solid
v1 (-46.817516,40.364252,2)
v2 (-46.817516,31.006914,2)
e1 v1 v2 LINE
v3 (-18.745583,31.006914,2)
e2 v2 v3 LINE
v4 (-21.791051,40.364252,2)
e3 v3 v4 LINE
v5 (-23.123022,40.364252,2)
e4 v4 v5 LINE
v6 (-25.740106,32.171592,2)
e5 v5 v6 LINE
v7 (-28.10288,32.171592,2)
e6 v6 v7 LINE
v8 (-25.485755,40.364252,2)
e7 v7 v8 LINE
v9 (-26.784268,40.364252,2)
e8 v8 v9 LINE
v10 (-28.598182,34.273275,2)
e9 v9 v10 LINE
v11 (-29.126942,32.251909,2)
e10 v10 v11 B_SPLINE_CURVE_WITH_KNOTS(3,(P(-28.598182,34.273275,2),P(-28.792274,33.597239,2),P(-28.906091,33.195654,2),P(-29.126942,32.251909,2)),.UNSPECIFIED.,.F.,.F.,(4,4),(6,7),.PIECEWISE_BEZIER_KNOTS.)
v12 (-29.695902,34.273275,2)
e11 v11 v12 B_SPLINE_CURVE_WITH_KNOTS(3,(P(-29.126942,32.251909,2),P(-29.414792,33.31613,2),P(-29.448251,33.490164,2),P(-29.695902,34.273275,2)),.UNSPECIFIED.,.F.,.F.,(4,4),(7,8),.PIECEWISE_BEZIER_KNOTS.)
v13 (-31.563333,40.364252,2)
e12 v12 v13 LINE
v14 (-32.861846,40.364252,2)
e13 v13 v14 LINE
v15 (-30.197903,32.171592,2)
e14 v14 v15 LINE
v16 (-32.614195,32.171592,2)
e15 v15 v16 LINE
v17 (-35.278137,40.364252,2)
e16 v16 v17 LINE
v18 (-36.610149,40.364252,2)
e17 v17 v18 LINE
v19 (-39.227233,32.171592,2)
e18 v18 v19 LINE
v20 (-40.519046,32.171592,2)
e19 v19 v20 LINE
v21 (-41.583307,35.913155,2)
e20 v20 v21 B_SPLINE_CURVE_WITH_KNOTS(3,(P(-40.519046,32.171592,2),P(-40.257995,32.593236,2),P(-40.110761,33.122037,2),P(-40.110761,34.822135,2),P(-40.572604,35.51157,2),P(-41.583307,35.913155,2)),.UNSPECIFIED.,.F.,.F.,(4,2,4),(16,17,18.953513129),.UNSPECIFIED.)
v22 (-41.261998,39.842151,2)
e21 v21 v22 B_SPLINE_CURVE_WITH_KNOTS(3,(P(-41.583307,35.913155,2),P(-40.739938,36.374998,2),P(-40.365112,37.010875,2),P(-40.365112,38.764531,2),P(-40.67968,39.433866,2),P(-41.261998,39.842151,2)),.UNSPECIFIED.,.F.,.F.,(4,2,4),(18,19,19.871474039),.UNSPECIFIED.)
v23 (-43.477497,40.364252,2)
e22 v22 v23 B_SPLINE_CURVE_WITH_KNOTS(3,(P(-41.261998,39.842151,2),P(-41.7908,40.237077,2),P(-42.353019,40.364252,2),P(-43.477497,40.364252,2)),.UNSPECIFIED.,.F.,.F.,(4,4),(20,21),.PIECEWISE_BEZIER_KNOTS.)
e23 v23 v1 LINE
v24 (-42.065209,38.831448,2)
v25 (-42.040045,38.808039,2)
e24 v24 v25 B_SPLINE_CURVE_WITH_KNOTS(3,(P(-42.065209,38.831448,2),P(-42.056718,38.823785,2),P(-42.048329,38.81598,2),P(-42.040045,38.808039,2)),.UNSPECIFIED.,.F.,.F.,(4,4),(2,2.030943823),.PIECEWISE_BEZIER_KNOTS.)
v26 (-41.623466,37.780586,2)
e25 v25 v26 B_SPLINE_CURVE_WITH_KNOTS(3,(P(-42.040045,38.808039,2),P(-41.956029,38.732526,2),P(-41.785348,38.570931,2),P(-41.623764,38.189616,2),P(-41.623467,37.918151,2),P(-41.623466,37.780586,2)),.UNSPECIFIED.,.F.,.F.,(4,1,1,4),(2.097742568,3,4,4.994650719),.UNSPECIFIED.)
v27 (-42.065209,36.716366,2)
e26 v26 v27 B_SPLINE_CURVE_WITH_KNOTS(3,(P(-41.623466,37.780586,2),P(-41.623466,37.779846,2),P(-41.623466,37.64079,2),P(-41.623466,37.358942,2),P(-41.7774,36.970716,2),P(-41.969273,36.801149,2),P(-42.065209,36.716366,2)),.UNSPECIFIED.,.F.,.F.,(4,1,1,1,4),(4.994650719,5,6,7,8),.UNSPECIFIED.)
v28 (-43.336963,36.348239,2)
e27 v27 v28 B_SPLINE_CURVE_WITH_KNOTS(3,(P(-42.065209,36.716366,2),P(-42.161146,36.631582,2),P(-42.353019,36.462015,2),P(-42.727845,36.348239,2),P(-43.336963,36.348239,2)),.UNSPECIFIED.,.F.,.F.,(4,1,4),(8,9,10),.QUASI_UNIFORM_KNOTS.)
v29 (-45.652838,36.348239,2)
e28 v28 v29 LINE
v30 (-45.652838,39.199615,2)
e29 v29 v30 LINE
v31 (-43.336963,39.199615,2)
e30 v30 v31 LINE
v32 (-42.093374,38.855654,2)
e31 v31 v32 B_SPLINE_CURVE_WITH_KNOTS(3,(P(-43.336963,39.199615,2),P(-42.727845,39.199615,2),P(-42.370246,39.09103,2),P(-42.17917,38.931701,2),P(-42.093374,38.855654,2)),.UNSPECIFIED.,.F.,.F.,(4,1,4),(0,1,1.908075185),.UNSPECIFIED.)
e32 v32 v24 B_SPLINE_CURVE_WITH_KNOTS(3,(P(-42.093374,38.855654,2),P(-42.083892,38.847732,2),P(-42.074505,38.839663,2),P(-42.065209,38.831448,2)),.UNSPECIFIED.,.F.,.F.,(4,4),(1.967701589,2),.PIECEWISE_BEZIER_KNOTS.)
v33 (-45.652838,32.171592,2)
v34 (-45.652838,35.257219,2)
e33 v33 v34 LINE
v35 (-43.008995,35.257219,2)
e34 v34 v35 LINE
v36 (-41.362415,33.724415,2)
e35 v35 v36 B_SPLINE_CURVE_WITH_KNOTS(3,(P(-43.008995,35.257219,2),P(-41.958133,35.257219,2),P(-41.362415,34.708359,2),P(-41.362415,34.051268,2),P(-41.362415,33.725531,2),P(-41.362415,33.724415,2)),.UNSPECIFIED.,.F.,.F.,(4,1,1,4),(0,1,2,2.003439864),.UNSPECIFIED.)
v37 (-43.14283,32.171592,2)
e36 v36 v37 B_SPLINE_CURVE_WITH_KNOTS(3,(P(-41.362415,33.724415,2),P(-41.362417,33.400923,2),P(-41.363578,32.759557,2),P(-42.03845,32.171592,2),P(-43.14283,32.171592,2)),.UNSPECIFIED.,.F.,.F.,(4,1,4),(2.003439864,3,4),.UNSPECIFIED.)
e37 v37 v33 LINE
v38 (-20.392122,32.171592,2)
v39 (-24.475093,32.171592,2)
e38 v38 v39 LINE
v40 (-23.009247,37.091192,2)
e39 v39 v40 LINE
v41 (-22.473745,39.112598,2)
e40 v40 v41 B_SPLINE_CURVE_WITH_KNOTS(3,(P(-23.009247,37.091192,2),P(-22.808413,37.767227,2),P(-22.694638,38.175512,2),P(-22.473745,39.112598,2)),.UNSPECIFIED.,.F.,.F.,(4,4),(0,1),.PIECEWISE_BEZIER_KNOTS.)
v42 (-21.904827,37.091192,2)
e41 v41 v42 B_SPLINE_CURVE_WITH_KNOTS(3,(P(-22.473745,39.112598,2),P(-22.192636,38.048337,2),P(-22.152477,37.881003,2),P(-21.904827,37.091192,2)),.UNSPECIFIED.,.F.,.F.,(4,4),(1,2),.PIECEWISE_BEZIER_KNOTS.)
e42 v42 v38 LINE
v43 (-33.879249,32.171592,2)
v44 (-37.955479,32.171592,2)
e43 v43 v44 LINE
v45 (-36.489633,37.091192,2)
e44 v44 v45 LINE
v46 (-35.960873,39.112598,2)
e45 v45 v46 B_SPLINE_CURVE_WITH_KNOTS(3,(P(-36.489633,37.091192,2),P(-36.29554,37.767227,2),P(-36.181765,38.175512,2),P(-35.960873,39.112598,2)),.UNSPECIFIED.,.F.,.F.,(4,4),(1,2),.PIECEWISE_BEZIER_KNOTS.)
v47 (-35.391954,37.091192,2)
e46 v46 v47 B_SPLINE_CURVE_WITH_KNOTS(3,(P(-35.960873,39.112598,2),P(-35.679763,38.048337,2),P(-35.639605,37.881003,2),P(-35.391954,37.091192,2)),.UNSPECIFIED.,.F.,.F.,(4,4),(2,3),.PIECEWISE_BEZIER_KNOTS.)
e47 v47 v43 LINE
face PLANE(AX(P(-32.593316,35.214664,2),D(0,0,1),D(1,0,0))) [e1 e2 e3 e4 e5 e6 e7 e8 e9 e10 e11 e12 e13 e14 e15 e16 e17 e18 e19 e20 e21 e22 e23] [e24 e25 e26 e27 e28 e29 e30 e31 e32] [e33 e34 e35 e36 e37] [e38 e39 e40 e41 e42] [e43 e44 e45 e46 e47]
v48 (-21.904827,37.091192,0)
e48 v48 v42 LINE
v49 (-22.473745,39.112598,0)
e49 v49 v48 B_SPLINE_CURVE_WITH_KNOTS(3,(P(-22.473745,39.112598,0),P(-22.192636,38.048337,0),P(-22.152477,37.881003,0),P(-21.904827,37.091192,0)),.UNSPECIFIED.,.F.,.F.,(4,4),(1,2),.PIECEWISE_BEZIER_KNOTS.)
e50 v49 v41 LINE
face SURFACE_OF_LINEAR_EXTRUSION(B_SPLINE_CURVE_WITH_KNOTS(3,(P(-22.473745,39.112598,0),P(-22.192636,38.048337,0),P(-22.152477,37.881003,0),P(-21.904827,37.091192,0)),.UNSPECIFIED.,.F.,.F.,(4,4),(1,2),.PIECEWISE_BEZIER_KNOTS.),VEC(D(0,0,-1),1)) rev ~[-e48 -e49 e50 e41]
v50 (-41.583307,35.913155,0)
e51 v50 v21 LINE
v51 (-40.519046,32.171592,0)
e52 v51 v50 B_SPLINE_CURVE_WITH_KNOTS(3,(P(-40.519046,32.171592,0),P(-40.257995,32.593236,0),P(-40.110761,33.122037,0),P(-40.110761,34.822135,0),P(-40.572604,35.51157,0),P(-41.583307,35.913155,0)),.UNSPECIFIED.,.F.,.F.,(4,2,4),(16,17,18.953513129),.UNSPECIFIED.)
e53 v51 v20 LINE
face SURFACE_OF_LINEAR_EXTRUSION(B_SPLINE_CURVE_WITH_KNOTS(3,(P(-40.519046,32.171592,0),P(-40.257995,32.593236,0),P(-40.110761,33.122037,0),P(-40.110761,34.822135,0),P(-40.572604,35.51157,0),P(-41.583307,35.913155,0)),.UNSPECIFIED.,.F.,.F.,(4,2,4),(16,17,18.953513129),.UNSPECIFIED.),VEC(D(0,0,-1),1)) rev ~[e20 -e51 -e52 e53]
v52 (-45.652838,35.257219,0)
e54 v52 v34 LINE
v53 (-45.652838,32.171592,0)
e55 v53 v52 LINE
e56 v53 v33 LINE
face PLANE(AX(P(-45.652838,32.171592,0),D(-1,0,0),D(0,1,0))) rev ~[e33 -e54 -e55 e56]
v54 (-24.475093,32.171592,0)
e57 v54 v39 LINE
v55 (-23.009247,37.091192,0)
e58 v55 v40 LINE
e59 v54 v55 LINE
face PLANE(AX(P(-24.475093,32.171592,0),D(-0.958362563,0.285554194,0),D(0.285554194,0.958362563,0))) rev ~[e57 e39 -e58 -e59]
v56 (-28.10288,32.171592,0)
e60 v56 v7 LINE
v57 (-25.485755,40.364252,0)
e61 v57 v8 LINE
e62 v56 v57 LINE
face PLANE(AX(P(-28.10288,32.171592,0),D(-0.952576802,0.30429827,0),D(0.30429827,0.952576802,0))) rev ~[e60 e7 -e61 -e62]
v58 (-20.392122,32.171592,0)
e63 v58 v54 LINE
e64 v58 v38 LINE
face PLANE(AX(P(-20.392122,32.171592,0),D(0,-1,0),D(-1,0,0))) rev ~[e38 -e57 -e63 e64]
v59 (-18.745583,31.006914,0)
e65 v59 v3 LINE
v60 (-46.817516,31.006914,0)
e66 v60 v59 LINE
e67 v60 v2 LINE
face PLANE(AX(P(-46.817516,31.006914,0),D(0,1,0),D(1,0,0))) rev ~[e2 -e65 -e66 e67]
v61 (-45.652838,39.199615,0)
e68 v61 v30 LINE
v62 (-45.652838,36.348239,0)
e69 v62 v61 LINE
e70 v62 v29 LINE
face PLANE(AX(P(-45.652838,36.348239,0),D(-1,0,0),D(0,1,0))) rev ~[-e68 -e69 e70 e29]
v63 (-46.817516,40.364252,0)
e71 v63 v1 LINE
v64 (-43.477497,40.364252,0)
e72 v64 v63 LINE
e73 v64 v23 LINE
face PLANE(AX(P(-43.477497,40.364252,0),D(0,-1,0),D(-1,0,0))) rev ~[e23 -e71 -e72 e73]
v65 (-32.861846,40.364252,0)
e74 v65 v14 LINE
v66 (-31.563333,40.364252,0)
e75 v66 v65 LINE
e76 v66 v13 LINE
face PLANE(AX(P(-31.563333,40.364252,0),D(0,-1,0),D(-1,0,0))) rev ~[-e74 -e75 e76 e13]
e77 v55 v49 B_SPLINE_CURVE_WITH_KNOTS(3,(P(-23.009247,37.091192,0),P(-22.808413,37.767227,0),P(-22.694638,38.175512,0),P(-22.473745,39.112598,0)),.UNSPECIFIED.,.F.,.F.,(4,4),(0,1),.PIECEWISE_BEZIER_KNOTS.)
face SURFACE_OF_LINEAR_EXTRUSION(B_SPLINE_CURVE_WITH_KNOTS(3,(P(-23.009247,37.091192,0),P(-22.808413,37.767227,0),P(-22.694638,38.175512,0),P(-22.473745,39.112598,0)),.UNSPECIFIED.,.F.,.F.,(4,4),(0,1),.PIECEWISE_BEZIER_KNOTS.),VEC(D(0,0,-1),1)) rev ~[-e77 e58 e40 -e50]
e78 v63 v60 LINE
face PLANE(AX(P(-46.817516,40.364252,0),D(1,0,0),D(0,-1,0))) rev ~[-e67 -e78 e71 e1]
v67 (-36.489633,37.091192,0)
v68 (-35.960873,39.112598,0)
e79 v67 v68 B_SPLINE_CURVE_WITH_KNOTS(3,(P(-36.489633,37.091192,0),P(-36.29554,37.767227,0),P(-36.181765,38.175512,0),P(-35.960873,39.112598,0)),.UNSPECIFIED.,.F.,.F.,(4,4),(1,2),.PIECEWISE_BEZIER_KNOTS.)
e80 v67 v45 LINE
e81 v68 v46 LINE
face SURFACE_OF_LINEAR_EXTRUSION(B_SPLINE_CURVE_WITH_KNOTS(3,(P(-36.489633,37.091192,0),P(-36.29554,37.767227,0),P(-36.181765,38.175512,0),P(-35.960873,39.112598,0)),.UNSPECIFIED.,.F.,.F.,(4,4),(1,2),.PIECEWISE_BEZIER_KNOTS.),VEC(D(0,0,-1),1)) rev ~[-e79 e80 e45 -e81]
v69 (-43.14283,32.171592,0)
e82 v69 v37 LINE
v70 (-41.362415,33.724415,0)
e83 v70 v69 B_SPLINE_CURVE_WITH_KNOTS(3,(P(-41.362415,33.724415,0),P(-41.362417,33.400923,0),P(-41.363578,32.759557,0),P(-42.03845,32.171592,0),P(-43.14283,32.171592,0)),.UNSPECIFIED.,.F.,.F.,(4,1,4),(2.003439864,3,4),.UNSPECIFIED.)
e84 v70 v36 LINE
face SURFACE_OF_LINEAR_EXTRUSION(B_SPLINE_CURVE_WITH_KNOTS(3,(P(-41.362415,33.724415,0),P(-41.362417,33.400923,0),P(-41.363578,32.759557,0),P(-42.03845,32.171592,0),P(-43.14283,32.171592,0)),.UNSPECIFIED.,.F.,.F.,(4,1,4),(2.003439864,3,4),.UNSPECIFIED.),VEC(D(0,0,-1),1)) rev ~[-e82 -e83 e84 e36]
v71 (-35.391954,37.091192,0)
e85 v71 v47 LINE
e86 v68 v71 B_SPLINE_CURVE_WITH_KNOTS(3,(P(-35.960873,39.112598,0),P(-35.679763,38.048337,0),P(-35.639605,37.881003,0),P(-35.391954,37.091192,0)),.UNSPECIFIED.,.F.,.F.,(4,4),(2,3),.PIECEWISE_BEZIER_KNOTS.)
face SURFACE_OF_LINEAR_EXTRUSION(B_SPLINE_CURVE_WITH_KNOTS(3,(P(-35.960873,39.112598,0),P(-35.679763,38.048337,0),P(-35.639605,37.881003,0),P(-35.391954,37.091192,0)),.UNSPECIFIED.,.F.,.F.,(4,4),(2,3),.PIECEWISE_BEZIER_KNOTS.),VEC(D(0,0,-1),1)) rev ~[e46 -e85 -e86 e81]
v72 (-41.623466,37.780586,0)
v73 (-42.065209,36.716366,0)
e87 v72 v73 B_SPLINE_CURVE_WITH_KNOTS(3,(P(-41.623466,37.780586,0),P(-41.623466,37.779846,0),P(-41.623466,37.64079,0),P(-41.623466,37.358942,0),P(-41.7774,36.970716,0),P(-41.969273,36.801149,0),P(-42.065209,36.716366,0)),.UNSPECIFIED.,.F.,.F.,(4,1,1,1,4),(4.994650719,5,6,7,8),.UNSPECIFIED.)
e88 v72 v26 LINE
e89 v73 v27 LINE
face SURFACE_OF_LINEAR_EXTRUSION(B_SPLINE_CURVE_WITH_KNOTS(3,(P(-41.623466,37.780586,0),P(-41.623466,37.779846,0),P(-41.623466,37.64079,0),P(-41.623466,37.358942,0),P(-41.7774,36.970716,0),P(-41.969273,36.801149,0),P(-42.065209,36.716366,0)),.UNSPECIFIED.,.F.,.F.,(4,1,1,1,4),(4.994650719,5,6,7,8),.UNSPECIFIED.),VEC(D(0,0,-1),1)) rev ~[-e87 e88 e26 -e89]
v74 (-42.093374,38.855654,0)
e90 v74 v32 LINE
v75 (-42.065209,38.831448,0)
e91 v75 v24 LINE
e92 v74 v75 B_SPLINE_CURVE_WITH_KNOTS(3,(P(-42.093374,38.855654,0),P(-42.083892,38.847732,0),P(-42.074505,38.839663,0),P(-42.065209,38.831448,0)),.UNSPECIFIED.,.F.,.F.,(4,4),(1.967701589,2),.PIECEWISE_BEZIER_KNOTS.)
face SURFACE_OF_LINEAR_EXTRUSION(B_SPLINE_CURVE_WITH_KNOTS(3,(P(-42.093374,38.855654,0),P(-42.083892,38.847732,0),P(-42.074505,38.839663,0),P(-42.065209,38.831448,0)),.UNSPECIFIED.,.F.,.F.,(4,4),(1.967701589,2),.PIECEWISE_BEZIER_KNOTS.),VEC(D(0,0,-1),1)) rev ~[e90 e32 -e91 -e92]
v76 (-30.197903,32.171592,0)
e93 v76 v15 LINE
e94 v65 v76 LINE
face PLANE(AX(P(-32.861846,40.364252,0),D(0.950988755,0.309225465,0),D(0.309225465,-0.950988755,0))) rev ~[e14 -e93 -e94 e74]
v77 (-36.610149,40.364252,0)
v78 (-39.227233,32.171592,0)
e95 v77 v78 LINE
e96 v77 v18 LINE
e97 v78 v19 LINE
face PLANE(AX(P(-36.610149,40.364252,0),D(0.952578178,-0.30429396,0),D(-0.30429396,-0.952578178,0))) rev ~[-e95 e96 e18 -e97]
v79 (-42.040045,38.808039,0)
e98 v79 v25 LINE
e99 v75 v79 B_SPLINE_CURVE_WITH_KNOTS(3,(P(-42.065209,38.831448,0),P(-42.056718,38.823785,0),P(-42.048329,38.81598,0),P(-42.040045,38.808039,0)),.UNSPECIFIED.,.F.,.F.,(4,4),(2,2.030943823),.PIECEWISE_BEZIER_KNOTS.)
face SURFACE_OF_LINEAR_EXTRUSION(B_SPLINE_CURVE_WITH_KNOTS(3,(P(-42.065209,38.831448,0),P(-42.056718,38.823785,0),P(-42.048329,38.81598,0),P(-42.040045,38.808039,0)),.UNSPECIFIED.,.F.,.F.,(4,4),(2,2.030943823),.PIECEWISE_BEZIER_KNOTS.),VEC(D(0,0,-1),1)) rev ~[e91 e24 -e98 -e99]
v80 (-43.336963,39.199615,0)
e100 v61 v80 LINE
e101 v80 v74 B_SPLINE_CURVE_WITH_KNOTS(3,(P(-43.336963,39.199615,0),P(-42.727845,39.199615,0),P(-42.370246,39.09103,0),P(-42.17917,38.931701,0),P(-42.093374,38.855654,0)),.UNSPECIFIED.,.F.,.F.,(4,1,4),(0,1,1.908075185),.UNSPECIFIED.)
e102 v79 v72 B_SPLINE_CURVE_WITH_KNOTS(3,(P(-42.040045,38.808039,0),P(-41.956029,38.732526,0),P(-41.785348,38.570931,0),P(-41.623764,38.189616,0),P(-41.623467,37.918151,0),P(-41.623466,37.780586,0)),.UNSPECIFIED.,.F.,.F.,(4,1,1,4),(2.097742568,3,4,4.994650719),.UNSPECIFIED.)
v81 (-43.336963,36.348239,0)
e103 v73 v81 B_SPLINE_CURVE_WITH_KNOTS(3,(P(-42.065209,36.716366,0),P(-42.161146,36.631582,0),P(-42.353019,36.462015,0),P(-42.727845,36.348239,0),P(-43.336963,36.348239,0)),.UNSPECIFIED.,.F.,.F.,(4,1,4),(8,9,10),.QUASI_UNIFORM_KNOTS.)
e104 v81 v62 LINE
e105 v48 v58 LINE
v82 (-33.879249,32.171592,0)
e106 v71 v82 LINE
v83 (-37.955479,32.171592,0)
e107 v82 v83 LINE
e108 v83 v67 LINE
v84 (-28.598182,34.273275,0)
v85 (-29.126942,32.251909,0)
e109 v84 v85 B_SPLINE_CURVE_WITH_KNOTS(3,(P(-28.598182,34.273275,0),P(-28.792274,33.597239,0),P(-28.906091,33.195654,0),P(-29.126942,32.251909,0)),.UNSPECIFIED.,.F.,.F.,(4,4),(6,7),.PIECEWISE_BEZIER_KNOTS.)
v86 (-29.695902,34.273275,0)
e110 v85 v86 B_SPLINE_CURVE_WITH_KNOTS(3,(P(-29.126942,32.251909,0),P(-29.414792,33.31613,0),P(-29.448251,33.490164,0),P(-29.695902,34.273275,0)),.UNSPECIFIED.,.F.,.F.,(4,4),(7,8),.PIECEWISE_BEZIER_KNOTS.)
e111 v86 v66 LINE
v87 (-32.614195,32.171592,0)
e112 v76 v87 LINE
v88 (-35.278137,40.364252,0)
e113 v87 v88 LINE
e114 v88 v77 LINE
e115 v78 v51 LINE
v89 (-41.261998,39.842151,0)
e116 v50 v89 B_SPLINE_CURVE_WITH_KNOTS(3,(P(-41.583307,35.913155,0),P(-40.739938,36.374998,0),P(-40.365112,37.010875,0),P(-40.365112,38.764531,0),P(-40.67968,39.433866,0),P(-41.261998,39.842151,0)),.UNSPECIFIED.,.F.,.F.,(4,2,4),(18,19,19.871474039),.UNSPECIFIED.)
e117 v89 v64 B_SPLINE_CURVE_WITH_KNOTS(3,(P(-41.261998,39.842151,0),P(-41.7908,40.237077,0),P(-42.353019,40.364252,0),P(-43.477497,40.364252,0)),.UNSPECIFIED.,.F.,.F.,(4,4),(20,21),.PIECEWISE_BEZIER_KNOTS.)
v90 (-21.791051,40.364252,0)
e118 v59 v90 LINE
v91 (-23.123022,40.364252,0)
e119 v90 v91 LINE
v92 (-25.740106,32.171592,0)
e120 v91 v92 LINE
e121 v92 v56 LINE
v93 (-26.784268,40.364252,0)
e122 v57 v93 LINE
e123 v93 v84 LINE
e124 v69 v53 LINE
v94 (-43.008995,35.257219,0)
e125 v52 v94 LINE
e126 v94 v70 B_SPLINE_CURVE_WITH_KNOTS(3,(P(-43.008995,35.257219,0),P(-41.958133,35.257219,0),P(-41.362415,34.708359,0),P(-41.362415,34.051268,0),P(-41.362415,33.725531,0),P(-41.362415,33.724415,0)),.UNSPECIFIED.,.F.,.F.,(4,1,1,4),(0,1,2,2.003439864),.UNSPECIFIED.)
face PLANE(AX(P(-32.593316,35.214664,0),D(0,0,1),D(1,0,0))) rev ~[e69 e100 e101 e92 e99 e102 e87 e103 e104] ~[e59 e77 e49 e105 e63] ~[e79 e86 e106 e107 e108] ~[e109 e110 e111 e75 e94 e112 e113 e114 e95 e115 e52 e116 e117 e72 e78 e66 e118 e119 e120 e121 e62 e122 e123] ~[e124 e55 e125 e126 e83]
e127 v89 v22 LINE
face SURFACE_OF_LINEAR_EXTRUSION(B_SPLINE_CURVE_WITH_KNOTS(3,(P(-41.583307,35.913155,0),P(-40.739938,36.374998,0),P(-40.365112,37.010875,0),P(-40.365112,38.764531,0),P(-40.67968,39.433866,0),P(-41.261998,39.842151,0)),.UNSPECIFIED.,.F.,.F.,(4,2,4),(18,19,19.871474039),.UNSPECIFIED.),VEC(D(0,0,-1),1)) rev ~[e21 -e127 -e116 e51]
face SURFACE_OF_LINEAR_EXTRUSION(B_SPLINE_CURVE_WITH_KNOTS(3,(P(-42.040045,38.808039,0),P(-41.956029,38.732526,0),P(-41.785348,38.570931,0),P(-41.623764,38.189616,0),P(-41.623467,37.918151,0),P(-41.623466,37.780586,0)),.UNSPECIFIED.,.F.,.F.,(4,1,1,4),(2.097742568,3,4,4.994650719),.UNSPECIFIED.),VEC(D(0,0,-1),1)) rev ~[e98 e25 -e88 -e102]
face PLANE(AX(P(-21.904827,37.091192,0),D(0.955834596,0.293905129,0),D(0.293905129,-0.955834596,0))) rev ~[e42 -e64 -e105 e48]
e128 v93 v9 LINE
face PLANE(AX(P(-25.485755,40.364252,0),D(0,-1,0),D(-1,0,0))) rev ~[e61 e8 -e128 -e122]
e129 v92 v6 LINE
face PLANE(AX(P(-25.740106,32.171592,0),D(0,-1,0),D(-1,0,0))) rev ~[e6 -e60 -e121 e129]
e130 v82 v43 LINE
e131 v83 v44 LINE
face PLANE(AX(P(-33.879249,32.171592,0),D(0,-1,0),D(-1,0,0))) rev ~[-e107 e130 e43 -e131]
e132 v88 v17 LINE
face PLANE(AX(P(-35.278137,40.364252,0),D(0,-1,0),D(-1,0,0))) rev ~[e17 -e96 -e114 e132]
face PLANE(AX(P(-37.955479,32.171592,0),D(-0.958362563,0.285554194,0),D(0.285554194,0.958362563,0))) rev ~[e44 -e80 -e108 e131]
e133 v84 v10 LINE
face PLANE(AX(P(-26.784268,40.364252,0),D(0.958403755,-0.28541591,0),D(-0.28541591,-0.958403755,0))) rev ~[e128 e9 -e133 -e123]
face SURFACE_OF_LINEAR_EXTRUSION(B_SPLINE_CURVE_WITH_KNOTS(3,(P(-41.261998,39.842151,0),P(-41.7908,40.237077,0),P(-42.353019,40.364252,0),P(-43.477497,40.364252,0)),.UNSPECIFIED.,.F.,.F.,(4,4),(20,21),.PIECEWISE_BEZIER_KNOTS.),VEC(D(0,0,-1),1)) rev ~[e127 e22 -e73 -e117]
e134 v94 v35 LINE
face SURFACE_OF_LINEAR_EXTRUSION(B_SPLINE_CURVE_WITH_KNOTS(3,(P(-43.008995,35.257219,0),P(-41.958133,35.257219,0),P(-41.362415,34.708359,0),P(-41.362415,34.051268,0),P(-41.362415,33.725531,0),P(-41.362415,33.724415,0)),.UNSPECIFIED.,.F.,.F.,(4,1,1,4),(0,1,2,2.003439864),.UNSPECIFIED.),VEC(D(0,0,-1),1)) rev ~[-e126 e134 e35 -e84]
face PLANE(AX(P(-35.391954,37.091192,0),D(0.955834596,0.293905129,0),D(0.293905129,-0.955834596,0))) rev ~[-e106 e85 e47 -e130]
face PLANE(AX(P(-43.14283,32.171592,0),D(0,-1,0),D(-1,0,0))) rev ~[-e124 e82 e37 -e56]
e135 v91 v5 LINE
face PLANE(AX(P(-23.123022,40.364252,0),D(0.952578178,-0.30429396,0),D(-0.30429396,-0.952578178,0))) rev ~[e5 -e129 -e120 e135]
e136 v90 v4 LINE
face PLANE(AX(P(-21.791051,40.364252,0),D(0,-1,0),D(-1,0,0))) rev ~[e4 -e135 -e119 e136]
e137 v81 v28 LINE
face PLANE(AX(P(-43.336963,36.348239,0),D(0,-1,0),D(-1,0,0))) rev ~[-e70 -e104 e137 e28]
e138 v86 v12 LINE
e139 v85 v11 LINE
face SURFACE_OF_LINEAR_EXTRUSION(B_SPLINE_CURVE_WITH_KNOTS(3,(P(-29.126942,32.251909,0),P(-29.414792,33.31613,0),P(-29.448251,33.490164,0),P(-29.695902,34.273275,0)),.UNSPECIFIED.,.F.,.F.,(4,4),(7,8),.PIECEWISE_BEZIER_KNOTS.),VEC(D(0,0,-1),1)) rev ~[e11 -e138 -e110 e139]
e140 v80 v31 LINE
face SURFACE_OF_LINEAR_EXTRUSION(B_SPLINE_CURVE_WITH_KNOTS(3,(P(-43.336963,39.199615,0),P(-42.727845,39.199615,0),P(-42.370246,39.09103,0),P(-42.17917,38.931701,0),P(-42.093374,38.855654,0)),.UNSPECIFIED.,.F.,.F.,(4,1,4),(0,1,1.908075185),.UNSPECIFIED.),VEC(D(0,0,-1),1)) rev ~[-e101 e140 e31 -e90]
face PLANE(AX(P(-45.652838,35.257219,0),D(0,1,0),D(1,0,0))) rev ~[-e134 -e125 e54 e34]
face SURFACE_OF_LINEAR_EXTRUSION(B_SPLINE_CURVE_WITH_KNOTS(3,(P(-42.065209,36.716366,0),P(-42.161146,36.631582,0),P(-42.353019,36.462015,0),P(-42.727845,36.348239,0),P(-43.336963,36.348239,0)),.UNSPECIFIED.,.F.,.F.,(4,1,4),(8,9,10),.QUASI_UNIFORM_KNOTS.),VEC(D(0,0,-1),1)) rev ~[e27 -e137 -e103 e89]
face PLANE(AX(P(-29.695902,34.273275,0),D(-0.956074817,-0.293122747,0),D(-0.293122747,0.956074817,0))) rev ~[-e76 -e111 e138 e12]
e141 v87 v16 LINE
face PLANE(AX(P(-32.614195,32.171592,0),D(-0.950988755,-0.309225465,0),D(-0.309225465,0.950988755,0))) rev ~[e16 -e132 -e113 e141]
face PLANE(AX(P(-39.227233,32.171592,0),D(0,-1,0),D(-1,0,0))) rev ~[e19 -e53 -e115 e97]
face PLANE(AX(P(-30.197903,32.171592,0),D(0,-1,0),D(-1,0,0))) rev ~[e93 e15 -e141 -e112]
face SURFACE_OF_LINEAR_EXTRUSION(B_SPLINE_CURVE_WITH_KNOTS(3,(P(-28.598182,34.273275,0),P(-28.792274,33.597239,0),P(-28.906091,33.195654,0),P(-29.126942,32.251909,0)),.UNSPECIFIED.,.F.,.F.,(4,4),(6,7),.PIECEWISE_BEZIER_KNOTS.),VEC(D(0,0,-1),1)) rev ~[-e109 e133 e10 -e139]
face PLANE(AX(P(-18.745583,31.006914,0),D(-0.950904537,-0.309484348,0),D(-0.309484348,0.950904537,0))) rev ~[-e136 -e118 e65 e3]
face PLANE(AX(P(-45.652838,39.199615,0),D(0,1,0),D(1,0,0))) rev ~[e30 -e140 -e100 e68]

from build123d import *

# Parameters (mm, degrees)
BOSS_EXTRUDE1_DEPTH = 2


with BuildPart() as part:
    # Sketch1 → Boss-Extrude1 (new body)
    with BuildSketch(Plane.XY):
        with BuildLine():
            Line((-18.745582546, 31.006914048), (-21.79105099, 40.364252392))
            Line((-21.79105099, 40.364252392), (-23.123022137, 40.364252392))
            Line((-23.123022137, 40.364252392), (-25.740106044, 32.171592169))
            Line((-25.740106044, 32.171592169), (-28.102880037, 32.171592169))
            Line((-28.102880037, 32.171592169), (-25.485755278, 40.364252392))
            Line((-25.485755278, 40.364252392), (-26.78426782, 40.364252392))
            Line((-26.78426782, 40.364252392), (-28.598181785, 34.273274652))
            add(Edge.make_bspline(
                [(-28.598181785, 34.273274652), (-28.792274379, 33.597239241), (-28.906090832, 33.19565427), (-29.126942139, 32.251909163)],
                knots=[6, 6, 6, 6, 7, 7, 7, 7], degree=3))
            add(Edge.make_bspline(
                [(-29.126942139, 32.251909163), (-29.414792363, 33.316129761), (-29.448250968, 33.490163533), (-29.695901842, 34.273274652)],
                knots=[7, 7, 7, 7, 8, 8, 8, 8], degree=3))
            Line((-29.695901842, 34.273274652), (-31.563333235, 40.364252392))
            Line((-31.563333235, 40.364252392), (-32.861845777, 40.364252392))
            Line((-32.861845777, 40.364252392), (-30.197903482, 32.171592169))
            Line((-30.197903482, 32.171592169), (-32.614194903, 32.171592169))
            Line((-32.614194903, 32.171592169), (-35.278137198, 40.364252392))
            Line((-35.278137198, 40.364252392), (-36.610149199, 40.364252392))
            Line((-36.610149199, 40.364252392), (-39.227233105, 32.171592169))
            Line((-39.227233105, 32.171592169), (-40.519045756, 32.171592169))
            add(Edge.make_bspline(
                [(-40.519045756, 32.171592169), (-40.257995098, 32.593235961), (-40.110760894, 33.122037168), (-40.110760894, 33.69765591)],
                knots=[16, 16, 16, 16, 17, 17, 17, 17], degree=3))
            add(Edge.make_bspline(
                [(-40.110760894, 33.69765591), (-40.110760894, 34.82213468), (-40.572604036, 35.511569875), (-41.583307207, 35.913154846)],
                knots=[17, 17, 17, 17, 18, 18, 18, 18], degree=3))
            add(Edge.make_bspline(
                [(-41.583307207, 35.913154846), (-40.739937916, 36.374997988), (-40.365111659, 37.010874903), (-40.365111659, 37.947920118)],
                knots=[18, 18, 18, 18, 19, 19, 19, 19], degree=3))
            add(Edge.make_bspline(
                [(-40.365111659, 37.947920118), (-40.365111659, 38.764530696), (-40.679679744, 39.433866215), (-41.261998378, 39.842151078)],
                knots=[19, 19, 19, 19, 20, 20, 20, 20], degree=3))
            add(Edge.make_bspline(
                [(-41.261998378, 39.842151078), (-41.790799584, 40.23707701), (-42.353018543, 40.364252392), (-43.477497314, 40.364252392)],
                knots=[20, 20, 20, 20, 21, 21, 21, 21], degree=3))
            Line((-43.477497314, 40.364252392), (-46.817515873, 40.364252392))
            Line((-46.817515873, 40.364252392), (-46.817515873, 31.006914048))
            Line((-46.817515873, 31.006914048), (-18.745582546, 31.006914048))
        make_face()
        with BuildLine():
            Line((-43.142829554, 32.171592169), (-45.652837753, 32.171592169))
            Line((-45.652837753, 32.171592169), (-45.652837753, 35.257219109))
            Line((-45.652837753, 35.257219109), (-43.008995132, 35.257219109))
            add(Edge.make_bspline(
                [(-43.008995132, 35.257219109), (-41.958133464, 35.257219109), (-41.362415047, 34.708359081), (-41.362415047, 34.051267898), (-41.362415047, 33.725531232), (-41.362415054, 33.724414624)],
                knots=[0, 0, 0, 0, 1, 2, 2.003439864, 2.003439864, 2.003439864, 2.003439864], degree=3))
            add(Edge.make_bspline(
                [(-41.362415054, 33.724414624), (-41.362417047, 33.400922858), (-41.363577782, 32.75955684), (-42.038450458, 32.171592169), (-43.142829554, 32.171592169)],
                knots=[2.003439864, 2.003439864, 2.003439864, 2.003439864, 3, 4, 4, 4, 4], degree=3))
        make_face(mode=Mode.SUBTRACT)
        with BuildLine():
            Line((-33.87924884, 32.171592169), (-37.955479277, 32.171592169))
            Line((-37.955479277, 32.171592169), (-36.489632855, 37.091191897))
            add(Edge.make_bspline(
                [(-36.489632855, 37.091191897), (-36.295540261, 37.767227308), (-36.181764662, 38.17551217), (-35.960872501, 39.112598239)],
                knots=[1, 1, 1, 1, 2, 2, 2, 2], degree=3))
            add(Edge.make_bspline(
                [(-35.960872501, 39.112598239), (-35.679763022, 38.048336787), (-35.639604525, 37.881002907), (-35.391953651, 37.091191897)],
                knots=[2, 2, 2, 2, 3, 3, 3, 3], degree=3))
            Line((-35.391953651, 37.091191897), (-33.87924884, 32.171592169))
        make_face(mode=Mode.SUBTRACT)
        with BuildLine():
            add(Edge.make_bspline(
                [(-22.47374544, 39.112598239), (-22.19263596, 38.048336787), (-22.152477463, 37.881002907), (-21.904826589, 37.091191897)],
                knots=[1, 1, 1, 1, 2, 2, 2, 2], degree=3))
            Line((-21.904826589, 37.091191897), (-20.392121778, 32.171592169))
            Line((-20.392121778, 32.171592169), (-24.47509296, 32.171592169))
            Line((-24.47509296, 32.171592169), (-23.009246538, 37.091191897))
            add(Edge.make_bspline(
                [(-23.009246538, 37.091191897), (-22.808413199, 37.767227308), (-22.6946376, 38.17551217), (-22.47374544, 39.112598239)],
                knots=[0, 0, 0, 0, 1, 1, 1, 1], degree=3))
        make_face(mode=Mode.SUBTRACT)
        with BuildLine():
            Line((-45.652837753, 36.348239275), (-45.652837753, 39.199615125))
            Line((-45.652837753, 39.199615125), (-43.336963001, 39.199615125))
            add(Edge.make_bspline(
                [(-43.336963001, 39.199615125), (-42.7278448, 39.199615125), (-42.37024646, 39.09102995), (-42.179170008, 38.931701151), (-42.093373815, 38.855654373)],
                knots=[0, 0, 0, 0, 1, 1.908075185, 1.908075185, 1.908075185, 1.908075185], degree=3))
            add(Edge.make_bspline(
                [(-42.093373815, 38.855654373), (-42.083891518, 38.847731554), (-42.074504957, 38.839663032), (-42.065209172, 38.831447907)],
                knots=[1.967701589, 1.967701589, 1.967701589, 1.967701589, 2, 2, 2, 2], degree=3))
            add(Edge.make_bspline(
                [(-42.065209172, 38.831447907), (-42.05671789, 38.823784642), (-42.048329136, 38.815980397), (-42.040044694, 38.808039137)],
                knots=[2, 2, 2, 2, 2.030943823, 2.030943823, 2.030943823, 2.030943823], degree=3))
            add(Edge.make_bspline(
                [(-42.040044694, 38.808039137), (-41.956028804, 38.732525824), (-41.785347703, 38.570931339), (-41.623764076, 38.189616071), (-41.623466502, 37.918150912), (-41.623465709, 37.780586238)],
                knots=[2.097742568, 2.097742568, 2.097742568, 2.097742568, 3, 4, 4.994650719, 4.994650719, 4.994650719, 4.994650719], degree=3))
            add(Edge.make_bspline(
                [(-41.623465709, 37.780586238), (-41.623465704, 37.779846409), (-41.623465704, 37.640790138), (-41.623465704, 37.358942446), (-41.777399801, 36.970716406), (-41.969272715, 36.801149228), (-42.065209172, 36.71636564)],
                knots=[4.994650719, 4.994650719, 4.994650719, 4.994650719, 5, 6, 7, 8, 8, 8, 8], degree=3))
            add(Edge.make_bspline(
                [(-42.065209172, 36.71636564), (-42.161145629, 36.631582051), (-42.353018543, 36.462014874), (-42.7278448, 36.348239275), (-43.336963001, 36.348239275)],
                knots=[8, 8, 8, 8, 9, 10, 10, 10, 10], degree=3))
            Line((-43.336963001, 36.348239275), (-45.652837753, 36.348239275))
        make_face(mode=Mode.SUBTRACT)
    extrude(amount=BOSS_EXTRUDE1_DEPTH)


solid = part.part
